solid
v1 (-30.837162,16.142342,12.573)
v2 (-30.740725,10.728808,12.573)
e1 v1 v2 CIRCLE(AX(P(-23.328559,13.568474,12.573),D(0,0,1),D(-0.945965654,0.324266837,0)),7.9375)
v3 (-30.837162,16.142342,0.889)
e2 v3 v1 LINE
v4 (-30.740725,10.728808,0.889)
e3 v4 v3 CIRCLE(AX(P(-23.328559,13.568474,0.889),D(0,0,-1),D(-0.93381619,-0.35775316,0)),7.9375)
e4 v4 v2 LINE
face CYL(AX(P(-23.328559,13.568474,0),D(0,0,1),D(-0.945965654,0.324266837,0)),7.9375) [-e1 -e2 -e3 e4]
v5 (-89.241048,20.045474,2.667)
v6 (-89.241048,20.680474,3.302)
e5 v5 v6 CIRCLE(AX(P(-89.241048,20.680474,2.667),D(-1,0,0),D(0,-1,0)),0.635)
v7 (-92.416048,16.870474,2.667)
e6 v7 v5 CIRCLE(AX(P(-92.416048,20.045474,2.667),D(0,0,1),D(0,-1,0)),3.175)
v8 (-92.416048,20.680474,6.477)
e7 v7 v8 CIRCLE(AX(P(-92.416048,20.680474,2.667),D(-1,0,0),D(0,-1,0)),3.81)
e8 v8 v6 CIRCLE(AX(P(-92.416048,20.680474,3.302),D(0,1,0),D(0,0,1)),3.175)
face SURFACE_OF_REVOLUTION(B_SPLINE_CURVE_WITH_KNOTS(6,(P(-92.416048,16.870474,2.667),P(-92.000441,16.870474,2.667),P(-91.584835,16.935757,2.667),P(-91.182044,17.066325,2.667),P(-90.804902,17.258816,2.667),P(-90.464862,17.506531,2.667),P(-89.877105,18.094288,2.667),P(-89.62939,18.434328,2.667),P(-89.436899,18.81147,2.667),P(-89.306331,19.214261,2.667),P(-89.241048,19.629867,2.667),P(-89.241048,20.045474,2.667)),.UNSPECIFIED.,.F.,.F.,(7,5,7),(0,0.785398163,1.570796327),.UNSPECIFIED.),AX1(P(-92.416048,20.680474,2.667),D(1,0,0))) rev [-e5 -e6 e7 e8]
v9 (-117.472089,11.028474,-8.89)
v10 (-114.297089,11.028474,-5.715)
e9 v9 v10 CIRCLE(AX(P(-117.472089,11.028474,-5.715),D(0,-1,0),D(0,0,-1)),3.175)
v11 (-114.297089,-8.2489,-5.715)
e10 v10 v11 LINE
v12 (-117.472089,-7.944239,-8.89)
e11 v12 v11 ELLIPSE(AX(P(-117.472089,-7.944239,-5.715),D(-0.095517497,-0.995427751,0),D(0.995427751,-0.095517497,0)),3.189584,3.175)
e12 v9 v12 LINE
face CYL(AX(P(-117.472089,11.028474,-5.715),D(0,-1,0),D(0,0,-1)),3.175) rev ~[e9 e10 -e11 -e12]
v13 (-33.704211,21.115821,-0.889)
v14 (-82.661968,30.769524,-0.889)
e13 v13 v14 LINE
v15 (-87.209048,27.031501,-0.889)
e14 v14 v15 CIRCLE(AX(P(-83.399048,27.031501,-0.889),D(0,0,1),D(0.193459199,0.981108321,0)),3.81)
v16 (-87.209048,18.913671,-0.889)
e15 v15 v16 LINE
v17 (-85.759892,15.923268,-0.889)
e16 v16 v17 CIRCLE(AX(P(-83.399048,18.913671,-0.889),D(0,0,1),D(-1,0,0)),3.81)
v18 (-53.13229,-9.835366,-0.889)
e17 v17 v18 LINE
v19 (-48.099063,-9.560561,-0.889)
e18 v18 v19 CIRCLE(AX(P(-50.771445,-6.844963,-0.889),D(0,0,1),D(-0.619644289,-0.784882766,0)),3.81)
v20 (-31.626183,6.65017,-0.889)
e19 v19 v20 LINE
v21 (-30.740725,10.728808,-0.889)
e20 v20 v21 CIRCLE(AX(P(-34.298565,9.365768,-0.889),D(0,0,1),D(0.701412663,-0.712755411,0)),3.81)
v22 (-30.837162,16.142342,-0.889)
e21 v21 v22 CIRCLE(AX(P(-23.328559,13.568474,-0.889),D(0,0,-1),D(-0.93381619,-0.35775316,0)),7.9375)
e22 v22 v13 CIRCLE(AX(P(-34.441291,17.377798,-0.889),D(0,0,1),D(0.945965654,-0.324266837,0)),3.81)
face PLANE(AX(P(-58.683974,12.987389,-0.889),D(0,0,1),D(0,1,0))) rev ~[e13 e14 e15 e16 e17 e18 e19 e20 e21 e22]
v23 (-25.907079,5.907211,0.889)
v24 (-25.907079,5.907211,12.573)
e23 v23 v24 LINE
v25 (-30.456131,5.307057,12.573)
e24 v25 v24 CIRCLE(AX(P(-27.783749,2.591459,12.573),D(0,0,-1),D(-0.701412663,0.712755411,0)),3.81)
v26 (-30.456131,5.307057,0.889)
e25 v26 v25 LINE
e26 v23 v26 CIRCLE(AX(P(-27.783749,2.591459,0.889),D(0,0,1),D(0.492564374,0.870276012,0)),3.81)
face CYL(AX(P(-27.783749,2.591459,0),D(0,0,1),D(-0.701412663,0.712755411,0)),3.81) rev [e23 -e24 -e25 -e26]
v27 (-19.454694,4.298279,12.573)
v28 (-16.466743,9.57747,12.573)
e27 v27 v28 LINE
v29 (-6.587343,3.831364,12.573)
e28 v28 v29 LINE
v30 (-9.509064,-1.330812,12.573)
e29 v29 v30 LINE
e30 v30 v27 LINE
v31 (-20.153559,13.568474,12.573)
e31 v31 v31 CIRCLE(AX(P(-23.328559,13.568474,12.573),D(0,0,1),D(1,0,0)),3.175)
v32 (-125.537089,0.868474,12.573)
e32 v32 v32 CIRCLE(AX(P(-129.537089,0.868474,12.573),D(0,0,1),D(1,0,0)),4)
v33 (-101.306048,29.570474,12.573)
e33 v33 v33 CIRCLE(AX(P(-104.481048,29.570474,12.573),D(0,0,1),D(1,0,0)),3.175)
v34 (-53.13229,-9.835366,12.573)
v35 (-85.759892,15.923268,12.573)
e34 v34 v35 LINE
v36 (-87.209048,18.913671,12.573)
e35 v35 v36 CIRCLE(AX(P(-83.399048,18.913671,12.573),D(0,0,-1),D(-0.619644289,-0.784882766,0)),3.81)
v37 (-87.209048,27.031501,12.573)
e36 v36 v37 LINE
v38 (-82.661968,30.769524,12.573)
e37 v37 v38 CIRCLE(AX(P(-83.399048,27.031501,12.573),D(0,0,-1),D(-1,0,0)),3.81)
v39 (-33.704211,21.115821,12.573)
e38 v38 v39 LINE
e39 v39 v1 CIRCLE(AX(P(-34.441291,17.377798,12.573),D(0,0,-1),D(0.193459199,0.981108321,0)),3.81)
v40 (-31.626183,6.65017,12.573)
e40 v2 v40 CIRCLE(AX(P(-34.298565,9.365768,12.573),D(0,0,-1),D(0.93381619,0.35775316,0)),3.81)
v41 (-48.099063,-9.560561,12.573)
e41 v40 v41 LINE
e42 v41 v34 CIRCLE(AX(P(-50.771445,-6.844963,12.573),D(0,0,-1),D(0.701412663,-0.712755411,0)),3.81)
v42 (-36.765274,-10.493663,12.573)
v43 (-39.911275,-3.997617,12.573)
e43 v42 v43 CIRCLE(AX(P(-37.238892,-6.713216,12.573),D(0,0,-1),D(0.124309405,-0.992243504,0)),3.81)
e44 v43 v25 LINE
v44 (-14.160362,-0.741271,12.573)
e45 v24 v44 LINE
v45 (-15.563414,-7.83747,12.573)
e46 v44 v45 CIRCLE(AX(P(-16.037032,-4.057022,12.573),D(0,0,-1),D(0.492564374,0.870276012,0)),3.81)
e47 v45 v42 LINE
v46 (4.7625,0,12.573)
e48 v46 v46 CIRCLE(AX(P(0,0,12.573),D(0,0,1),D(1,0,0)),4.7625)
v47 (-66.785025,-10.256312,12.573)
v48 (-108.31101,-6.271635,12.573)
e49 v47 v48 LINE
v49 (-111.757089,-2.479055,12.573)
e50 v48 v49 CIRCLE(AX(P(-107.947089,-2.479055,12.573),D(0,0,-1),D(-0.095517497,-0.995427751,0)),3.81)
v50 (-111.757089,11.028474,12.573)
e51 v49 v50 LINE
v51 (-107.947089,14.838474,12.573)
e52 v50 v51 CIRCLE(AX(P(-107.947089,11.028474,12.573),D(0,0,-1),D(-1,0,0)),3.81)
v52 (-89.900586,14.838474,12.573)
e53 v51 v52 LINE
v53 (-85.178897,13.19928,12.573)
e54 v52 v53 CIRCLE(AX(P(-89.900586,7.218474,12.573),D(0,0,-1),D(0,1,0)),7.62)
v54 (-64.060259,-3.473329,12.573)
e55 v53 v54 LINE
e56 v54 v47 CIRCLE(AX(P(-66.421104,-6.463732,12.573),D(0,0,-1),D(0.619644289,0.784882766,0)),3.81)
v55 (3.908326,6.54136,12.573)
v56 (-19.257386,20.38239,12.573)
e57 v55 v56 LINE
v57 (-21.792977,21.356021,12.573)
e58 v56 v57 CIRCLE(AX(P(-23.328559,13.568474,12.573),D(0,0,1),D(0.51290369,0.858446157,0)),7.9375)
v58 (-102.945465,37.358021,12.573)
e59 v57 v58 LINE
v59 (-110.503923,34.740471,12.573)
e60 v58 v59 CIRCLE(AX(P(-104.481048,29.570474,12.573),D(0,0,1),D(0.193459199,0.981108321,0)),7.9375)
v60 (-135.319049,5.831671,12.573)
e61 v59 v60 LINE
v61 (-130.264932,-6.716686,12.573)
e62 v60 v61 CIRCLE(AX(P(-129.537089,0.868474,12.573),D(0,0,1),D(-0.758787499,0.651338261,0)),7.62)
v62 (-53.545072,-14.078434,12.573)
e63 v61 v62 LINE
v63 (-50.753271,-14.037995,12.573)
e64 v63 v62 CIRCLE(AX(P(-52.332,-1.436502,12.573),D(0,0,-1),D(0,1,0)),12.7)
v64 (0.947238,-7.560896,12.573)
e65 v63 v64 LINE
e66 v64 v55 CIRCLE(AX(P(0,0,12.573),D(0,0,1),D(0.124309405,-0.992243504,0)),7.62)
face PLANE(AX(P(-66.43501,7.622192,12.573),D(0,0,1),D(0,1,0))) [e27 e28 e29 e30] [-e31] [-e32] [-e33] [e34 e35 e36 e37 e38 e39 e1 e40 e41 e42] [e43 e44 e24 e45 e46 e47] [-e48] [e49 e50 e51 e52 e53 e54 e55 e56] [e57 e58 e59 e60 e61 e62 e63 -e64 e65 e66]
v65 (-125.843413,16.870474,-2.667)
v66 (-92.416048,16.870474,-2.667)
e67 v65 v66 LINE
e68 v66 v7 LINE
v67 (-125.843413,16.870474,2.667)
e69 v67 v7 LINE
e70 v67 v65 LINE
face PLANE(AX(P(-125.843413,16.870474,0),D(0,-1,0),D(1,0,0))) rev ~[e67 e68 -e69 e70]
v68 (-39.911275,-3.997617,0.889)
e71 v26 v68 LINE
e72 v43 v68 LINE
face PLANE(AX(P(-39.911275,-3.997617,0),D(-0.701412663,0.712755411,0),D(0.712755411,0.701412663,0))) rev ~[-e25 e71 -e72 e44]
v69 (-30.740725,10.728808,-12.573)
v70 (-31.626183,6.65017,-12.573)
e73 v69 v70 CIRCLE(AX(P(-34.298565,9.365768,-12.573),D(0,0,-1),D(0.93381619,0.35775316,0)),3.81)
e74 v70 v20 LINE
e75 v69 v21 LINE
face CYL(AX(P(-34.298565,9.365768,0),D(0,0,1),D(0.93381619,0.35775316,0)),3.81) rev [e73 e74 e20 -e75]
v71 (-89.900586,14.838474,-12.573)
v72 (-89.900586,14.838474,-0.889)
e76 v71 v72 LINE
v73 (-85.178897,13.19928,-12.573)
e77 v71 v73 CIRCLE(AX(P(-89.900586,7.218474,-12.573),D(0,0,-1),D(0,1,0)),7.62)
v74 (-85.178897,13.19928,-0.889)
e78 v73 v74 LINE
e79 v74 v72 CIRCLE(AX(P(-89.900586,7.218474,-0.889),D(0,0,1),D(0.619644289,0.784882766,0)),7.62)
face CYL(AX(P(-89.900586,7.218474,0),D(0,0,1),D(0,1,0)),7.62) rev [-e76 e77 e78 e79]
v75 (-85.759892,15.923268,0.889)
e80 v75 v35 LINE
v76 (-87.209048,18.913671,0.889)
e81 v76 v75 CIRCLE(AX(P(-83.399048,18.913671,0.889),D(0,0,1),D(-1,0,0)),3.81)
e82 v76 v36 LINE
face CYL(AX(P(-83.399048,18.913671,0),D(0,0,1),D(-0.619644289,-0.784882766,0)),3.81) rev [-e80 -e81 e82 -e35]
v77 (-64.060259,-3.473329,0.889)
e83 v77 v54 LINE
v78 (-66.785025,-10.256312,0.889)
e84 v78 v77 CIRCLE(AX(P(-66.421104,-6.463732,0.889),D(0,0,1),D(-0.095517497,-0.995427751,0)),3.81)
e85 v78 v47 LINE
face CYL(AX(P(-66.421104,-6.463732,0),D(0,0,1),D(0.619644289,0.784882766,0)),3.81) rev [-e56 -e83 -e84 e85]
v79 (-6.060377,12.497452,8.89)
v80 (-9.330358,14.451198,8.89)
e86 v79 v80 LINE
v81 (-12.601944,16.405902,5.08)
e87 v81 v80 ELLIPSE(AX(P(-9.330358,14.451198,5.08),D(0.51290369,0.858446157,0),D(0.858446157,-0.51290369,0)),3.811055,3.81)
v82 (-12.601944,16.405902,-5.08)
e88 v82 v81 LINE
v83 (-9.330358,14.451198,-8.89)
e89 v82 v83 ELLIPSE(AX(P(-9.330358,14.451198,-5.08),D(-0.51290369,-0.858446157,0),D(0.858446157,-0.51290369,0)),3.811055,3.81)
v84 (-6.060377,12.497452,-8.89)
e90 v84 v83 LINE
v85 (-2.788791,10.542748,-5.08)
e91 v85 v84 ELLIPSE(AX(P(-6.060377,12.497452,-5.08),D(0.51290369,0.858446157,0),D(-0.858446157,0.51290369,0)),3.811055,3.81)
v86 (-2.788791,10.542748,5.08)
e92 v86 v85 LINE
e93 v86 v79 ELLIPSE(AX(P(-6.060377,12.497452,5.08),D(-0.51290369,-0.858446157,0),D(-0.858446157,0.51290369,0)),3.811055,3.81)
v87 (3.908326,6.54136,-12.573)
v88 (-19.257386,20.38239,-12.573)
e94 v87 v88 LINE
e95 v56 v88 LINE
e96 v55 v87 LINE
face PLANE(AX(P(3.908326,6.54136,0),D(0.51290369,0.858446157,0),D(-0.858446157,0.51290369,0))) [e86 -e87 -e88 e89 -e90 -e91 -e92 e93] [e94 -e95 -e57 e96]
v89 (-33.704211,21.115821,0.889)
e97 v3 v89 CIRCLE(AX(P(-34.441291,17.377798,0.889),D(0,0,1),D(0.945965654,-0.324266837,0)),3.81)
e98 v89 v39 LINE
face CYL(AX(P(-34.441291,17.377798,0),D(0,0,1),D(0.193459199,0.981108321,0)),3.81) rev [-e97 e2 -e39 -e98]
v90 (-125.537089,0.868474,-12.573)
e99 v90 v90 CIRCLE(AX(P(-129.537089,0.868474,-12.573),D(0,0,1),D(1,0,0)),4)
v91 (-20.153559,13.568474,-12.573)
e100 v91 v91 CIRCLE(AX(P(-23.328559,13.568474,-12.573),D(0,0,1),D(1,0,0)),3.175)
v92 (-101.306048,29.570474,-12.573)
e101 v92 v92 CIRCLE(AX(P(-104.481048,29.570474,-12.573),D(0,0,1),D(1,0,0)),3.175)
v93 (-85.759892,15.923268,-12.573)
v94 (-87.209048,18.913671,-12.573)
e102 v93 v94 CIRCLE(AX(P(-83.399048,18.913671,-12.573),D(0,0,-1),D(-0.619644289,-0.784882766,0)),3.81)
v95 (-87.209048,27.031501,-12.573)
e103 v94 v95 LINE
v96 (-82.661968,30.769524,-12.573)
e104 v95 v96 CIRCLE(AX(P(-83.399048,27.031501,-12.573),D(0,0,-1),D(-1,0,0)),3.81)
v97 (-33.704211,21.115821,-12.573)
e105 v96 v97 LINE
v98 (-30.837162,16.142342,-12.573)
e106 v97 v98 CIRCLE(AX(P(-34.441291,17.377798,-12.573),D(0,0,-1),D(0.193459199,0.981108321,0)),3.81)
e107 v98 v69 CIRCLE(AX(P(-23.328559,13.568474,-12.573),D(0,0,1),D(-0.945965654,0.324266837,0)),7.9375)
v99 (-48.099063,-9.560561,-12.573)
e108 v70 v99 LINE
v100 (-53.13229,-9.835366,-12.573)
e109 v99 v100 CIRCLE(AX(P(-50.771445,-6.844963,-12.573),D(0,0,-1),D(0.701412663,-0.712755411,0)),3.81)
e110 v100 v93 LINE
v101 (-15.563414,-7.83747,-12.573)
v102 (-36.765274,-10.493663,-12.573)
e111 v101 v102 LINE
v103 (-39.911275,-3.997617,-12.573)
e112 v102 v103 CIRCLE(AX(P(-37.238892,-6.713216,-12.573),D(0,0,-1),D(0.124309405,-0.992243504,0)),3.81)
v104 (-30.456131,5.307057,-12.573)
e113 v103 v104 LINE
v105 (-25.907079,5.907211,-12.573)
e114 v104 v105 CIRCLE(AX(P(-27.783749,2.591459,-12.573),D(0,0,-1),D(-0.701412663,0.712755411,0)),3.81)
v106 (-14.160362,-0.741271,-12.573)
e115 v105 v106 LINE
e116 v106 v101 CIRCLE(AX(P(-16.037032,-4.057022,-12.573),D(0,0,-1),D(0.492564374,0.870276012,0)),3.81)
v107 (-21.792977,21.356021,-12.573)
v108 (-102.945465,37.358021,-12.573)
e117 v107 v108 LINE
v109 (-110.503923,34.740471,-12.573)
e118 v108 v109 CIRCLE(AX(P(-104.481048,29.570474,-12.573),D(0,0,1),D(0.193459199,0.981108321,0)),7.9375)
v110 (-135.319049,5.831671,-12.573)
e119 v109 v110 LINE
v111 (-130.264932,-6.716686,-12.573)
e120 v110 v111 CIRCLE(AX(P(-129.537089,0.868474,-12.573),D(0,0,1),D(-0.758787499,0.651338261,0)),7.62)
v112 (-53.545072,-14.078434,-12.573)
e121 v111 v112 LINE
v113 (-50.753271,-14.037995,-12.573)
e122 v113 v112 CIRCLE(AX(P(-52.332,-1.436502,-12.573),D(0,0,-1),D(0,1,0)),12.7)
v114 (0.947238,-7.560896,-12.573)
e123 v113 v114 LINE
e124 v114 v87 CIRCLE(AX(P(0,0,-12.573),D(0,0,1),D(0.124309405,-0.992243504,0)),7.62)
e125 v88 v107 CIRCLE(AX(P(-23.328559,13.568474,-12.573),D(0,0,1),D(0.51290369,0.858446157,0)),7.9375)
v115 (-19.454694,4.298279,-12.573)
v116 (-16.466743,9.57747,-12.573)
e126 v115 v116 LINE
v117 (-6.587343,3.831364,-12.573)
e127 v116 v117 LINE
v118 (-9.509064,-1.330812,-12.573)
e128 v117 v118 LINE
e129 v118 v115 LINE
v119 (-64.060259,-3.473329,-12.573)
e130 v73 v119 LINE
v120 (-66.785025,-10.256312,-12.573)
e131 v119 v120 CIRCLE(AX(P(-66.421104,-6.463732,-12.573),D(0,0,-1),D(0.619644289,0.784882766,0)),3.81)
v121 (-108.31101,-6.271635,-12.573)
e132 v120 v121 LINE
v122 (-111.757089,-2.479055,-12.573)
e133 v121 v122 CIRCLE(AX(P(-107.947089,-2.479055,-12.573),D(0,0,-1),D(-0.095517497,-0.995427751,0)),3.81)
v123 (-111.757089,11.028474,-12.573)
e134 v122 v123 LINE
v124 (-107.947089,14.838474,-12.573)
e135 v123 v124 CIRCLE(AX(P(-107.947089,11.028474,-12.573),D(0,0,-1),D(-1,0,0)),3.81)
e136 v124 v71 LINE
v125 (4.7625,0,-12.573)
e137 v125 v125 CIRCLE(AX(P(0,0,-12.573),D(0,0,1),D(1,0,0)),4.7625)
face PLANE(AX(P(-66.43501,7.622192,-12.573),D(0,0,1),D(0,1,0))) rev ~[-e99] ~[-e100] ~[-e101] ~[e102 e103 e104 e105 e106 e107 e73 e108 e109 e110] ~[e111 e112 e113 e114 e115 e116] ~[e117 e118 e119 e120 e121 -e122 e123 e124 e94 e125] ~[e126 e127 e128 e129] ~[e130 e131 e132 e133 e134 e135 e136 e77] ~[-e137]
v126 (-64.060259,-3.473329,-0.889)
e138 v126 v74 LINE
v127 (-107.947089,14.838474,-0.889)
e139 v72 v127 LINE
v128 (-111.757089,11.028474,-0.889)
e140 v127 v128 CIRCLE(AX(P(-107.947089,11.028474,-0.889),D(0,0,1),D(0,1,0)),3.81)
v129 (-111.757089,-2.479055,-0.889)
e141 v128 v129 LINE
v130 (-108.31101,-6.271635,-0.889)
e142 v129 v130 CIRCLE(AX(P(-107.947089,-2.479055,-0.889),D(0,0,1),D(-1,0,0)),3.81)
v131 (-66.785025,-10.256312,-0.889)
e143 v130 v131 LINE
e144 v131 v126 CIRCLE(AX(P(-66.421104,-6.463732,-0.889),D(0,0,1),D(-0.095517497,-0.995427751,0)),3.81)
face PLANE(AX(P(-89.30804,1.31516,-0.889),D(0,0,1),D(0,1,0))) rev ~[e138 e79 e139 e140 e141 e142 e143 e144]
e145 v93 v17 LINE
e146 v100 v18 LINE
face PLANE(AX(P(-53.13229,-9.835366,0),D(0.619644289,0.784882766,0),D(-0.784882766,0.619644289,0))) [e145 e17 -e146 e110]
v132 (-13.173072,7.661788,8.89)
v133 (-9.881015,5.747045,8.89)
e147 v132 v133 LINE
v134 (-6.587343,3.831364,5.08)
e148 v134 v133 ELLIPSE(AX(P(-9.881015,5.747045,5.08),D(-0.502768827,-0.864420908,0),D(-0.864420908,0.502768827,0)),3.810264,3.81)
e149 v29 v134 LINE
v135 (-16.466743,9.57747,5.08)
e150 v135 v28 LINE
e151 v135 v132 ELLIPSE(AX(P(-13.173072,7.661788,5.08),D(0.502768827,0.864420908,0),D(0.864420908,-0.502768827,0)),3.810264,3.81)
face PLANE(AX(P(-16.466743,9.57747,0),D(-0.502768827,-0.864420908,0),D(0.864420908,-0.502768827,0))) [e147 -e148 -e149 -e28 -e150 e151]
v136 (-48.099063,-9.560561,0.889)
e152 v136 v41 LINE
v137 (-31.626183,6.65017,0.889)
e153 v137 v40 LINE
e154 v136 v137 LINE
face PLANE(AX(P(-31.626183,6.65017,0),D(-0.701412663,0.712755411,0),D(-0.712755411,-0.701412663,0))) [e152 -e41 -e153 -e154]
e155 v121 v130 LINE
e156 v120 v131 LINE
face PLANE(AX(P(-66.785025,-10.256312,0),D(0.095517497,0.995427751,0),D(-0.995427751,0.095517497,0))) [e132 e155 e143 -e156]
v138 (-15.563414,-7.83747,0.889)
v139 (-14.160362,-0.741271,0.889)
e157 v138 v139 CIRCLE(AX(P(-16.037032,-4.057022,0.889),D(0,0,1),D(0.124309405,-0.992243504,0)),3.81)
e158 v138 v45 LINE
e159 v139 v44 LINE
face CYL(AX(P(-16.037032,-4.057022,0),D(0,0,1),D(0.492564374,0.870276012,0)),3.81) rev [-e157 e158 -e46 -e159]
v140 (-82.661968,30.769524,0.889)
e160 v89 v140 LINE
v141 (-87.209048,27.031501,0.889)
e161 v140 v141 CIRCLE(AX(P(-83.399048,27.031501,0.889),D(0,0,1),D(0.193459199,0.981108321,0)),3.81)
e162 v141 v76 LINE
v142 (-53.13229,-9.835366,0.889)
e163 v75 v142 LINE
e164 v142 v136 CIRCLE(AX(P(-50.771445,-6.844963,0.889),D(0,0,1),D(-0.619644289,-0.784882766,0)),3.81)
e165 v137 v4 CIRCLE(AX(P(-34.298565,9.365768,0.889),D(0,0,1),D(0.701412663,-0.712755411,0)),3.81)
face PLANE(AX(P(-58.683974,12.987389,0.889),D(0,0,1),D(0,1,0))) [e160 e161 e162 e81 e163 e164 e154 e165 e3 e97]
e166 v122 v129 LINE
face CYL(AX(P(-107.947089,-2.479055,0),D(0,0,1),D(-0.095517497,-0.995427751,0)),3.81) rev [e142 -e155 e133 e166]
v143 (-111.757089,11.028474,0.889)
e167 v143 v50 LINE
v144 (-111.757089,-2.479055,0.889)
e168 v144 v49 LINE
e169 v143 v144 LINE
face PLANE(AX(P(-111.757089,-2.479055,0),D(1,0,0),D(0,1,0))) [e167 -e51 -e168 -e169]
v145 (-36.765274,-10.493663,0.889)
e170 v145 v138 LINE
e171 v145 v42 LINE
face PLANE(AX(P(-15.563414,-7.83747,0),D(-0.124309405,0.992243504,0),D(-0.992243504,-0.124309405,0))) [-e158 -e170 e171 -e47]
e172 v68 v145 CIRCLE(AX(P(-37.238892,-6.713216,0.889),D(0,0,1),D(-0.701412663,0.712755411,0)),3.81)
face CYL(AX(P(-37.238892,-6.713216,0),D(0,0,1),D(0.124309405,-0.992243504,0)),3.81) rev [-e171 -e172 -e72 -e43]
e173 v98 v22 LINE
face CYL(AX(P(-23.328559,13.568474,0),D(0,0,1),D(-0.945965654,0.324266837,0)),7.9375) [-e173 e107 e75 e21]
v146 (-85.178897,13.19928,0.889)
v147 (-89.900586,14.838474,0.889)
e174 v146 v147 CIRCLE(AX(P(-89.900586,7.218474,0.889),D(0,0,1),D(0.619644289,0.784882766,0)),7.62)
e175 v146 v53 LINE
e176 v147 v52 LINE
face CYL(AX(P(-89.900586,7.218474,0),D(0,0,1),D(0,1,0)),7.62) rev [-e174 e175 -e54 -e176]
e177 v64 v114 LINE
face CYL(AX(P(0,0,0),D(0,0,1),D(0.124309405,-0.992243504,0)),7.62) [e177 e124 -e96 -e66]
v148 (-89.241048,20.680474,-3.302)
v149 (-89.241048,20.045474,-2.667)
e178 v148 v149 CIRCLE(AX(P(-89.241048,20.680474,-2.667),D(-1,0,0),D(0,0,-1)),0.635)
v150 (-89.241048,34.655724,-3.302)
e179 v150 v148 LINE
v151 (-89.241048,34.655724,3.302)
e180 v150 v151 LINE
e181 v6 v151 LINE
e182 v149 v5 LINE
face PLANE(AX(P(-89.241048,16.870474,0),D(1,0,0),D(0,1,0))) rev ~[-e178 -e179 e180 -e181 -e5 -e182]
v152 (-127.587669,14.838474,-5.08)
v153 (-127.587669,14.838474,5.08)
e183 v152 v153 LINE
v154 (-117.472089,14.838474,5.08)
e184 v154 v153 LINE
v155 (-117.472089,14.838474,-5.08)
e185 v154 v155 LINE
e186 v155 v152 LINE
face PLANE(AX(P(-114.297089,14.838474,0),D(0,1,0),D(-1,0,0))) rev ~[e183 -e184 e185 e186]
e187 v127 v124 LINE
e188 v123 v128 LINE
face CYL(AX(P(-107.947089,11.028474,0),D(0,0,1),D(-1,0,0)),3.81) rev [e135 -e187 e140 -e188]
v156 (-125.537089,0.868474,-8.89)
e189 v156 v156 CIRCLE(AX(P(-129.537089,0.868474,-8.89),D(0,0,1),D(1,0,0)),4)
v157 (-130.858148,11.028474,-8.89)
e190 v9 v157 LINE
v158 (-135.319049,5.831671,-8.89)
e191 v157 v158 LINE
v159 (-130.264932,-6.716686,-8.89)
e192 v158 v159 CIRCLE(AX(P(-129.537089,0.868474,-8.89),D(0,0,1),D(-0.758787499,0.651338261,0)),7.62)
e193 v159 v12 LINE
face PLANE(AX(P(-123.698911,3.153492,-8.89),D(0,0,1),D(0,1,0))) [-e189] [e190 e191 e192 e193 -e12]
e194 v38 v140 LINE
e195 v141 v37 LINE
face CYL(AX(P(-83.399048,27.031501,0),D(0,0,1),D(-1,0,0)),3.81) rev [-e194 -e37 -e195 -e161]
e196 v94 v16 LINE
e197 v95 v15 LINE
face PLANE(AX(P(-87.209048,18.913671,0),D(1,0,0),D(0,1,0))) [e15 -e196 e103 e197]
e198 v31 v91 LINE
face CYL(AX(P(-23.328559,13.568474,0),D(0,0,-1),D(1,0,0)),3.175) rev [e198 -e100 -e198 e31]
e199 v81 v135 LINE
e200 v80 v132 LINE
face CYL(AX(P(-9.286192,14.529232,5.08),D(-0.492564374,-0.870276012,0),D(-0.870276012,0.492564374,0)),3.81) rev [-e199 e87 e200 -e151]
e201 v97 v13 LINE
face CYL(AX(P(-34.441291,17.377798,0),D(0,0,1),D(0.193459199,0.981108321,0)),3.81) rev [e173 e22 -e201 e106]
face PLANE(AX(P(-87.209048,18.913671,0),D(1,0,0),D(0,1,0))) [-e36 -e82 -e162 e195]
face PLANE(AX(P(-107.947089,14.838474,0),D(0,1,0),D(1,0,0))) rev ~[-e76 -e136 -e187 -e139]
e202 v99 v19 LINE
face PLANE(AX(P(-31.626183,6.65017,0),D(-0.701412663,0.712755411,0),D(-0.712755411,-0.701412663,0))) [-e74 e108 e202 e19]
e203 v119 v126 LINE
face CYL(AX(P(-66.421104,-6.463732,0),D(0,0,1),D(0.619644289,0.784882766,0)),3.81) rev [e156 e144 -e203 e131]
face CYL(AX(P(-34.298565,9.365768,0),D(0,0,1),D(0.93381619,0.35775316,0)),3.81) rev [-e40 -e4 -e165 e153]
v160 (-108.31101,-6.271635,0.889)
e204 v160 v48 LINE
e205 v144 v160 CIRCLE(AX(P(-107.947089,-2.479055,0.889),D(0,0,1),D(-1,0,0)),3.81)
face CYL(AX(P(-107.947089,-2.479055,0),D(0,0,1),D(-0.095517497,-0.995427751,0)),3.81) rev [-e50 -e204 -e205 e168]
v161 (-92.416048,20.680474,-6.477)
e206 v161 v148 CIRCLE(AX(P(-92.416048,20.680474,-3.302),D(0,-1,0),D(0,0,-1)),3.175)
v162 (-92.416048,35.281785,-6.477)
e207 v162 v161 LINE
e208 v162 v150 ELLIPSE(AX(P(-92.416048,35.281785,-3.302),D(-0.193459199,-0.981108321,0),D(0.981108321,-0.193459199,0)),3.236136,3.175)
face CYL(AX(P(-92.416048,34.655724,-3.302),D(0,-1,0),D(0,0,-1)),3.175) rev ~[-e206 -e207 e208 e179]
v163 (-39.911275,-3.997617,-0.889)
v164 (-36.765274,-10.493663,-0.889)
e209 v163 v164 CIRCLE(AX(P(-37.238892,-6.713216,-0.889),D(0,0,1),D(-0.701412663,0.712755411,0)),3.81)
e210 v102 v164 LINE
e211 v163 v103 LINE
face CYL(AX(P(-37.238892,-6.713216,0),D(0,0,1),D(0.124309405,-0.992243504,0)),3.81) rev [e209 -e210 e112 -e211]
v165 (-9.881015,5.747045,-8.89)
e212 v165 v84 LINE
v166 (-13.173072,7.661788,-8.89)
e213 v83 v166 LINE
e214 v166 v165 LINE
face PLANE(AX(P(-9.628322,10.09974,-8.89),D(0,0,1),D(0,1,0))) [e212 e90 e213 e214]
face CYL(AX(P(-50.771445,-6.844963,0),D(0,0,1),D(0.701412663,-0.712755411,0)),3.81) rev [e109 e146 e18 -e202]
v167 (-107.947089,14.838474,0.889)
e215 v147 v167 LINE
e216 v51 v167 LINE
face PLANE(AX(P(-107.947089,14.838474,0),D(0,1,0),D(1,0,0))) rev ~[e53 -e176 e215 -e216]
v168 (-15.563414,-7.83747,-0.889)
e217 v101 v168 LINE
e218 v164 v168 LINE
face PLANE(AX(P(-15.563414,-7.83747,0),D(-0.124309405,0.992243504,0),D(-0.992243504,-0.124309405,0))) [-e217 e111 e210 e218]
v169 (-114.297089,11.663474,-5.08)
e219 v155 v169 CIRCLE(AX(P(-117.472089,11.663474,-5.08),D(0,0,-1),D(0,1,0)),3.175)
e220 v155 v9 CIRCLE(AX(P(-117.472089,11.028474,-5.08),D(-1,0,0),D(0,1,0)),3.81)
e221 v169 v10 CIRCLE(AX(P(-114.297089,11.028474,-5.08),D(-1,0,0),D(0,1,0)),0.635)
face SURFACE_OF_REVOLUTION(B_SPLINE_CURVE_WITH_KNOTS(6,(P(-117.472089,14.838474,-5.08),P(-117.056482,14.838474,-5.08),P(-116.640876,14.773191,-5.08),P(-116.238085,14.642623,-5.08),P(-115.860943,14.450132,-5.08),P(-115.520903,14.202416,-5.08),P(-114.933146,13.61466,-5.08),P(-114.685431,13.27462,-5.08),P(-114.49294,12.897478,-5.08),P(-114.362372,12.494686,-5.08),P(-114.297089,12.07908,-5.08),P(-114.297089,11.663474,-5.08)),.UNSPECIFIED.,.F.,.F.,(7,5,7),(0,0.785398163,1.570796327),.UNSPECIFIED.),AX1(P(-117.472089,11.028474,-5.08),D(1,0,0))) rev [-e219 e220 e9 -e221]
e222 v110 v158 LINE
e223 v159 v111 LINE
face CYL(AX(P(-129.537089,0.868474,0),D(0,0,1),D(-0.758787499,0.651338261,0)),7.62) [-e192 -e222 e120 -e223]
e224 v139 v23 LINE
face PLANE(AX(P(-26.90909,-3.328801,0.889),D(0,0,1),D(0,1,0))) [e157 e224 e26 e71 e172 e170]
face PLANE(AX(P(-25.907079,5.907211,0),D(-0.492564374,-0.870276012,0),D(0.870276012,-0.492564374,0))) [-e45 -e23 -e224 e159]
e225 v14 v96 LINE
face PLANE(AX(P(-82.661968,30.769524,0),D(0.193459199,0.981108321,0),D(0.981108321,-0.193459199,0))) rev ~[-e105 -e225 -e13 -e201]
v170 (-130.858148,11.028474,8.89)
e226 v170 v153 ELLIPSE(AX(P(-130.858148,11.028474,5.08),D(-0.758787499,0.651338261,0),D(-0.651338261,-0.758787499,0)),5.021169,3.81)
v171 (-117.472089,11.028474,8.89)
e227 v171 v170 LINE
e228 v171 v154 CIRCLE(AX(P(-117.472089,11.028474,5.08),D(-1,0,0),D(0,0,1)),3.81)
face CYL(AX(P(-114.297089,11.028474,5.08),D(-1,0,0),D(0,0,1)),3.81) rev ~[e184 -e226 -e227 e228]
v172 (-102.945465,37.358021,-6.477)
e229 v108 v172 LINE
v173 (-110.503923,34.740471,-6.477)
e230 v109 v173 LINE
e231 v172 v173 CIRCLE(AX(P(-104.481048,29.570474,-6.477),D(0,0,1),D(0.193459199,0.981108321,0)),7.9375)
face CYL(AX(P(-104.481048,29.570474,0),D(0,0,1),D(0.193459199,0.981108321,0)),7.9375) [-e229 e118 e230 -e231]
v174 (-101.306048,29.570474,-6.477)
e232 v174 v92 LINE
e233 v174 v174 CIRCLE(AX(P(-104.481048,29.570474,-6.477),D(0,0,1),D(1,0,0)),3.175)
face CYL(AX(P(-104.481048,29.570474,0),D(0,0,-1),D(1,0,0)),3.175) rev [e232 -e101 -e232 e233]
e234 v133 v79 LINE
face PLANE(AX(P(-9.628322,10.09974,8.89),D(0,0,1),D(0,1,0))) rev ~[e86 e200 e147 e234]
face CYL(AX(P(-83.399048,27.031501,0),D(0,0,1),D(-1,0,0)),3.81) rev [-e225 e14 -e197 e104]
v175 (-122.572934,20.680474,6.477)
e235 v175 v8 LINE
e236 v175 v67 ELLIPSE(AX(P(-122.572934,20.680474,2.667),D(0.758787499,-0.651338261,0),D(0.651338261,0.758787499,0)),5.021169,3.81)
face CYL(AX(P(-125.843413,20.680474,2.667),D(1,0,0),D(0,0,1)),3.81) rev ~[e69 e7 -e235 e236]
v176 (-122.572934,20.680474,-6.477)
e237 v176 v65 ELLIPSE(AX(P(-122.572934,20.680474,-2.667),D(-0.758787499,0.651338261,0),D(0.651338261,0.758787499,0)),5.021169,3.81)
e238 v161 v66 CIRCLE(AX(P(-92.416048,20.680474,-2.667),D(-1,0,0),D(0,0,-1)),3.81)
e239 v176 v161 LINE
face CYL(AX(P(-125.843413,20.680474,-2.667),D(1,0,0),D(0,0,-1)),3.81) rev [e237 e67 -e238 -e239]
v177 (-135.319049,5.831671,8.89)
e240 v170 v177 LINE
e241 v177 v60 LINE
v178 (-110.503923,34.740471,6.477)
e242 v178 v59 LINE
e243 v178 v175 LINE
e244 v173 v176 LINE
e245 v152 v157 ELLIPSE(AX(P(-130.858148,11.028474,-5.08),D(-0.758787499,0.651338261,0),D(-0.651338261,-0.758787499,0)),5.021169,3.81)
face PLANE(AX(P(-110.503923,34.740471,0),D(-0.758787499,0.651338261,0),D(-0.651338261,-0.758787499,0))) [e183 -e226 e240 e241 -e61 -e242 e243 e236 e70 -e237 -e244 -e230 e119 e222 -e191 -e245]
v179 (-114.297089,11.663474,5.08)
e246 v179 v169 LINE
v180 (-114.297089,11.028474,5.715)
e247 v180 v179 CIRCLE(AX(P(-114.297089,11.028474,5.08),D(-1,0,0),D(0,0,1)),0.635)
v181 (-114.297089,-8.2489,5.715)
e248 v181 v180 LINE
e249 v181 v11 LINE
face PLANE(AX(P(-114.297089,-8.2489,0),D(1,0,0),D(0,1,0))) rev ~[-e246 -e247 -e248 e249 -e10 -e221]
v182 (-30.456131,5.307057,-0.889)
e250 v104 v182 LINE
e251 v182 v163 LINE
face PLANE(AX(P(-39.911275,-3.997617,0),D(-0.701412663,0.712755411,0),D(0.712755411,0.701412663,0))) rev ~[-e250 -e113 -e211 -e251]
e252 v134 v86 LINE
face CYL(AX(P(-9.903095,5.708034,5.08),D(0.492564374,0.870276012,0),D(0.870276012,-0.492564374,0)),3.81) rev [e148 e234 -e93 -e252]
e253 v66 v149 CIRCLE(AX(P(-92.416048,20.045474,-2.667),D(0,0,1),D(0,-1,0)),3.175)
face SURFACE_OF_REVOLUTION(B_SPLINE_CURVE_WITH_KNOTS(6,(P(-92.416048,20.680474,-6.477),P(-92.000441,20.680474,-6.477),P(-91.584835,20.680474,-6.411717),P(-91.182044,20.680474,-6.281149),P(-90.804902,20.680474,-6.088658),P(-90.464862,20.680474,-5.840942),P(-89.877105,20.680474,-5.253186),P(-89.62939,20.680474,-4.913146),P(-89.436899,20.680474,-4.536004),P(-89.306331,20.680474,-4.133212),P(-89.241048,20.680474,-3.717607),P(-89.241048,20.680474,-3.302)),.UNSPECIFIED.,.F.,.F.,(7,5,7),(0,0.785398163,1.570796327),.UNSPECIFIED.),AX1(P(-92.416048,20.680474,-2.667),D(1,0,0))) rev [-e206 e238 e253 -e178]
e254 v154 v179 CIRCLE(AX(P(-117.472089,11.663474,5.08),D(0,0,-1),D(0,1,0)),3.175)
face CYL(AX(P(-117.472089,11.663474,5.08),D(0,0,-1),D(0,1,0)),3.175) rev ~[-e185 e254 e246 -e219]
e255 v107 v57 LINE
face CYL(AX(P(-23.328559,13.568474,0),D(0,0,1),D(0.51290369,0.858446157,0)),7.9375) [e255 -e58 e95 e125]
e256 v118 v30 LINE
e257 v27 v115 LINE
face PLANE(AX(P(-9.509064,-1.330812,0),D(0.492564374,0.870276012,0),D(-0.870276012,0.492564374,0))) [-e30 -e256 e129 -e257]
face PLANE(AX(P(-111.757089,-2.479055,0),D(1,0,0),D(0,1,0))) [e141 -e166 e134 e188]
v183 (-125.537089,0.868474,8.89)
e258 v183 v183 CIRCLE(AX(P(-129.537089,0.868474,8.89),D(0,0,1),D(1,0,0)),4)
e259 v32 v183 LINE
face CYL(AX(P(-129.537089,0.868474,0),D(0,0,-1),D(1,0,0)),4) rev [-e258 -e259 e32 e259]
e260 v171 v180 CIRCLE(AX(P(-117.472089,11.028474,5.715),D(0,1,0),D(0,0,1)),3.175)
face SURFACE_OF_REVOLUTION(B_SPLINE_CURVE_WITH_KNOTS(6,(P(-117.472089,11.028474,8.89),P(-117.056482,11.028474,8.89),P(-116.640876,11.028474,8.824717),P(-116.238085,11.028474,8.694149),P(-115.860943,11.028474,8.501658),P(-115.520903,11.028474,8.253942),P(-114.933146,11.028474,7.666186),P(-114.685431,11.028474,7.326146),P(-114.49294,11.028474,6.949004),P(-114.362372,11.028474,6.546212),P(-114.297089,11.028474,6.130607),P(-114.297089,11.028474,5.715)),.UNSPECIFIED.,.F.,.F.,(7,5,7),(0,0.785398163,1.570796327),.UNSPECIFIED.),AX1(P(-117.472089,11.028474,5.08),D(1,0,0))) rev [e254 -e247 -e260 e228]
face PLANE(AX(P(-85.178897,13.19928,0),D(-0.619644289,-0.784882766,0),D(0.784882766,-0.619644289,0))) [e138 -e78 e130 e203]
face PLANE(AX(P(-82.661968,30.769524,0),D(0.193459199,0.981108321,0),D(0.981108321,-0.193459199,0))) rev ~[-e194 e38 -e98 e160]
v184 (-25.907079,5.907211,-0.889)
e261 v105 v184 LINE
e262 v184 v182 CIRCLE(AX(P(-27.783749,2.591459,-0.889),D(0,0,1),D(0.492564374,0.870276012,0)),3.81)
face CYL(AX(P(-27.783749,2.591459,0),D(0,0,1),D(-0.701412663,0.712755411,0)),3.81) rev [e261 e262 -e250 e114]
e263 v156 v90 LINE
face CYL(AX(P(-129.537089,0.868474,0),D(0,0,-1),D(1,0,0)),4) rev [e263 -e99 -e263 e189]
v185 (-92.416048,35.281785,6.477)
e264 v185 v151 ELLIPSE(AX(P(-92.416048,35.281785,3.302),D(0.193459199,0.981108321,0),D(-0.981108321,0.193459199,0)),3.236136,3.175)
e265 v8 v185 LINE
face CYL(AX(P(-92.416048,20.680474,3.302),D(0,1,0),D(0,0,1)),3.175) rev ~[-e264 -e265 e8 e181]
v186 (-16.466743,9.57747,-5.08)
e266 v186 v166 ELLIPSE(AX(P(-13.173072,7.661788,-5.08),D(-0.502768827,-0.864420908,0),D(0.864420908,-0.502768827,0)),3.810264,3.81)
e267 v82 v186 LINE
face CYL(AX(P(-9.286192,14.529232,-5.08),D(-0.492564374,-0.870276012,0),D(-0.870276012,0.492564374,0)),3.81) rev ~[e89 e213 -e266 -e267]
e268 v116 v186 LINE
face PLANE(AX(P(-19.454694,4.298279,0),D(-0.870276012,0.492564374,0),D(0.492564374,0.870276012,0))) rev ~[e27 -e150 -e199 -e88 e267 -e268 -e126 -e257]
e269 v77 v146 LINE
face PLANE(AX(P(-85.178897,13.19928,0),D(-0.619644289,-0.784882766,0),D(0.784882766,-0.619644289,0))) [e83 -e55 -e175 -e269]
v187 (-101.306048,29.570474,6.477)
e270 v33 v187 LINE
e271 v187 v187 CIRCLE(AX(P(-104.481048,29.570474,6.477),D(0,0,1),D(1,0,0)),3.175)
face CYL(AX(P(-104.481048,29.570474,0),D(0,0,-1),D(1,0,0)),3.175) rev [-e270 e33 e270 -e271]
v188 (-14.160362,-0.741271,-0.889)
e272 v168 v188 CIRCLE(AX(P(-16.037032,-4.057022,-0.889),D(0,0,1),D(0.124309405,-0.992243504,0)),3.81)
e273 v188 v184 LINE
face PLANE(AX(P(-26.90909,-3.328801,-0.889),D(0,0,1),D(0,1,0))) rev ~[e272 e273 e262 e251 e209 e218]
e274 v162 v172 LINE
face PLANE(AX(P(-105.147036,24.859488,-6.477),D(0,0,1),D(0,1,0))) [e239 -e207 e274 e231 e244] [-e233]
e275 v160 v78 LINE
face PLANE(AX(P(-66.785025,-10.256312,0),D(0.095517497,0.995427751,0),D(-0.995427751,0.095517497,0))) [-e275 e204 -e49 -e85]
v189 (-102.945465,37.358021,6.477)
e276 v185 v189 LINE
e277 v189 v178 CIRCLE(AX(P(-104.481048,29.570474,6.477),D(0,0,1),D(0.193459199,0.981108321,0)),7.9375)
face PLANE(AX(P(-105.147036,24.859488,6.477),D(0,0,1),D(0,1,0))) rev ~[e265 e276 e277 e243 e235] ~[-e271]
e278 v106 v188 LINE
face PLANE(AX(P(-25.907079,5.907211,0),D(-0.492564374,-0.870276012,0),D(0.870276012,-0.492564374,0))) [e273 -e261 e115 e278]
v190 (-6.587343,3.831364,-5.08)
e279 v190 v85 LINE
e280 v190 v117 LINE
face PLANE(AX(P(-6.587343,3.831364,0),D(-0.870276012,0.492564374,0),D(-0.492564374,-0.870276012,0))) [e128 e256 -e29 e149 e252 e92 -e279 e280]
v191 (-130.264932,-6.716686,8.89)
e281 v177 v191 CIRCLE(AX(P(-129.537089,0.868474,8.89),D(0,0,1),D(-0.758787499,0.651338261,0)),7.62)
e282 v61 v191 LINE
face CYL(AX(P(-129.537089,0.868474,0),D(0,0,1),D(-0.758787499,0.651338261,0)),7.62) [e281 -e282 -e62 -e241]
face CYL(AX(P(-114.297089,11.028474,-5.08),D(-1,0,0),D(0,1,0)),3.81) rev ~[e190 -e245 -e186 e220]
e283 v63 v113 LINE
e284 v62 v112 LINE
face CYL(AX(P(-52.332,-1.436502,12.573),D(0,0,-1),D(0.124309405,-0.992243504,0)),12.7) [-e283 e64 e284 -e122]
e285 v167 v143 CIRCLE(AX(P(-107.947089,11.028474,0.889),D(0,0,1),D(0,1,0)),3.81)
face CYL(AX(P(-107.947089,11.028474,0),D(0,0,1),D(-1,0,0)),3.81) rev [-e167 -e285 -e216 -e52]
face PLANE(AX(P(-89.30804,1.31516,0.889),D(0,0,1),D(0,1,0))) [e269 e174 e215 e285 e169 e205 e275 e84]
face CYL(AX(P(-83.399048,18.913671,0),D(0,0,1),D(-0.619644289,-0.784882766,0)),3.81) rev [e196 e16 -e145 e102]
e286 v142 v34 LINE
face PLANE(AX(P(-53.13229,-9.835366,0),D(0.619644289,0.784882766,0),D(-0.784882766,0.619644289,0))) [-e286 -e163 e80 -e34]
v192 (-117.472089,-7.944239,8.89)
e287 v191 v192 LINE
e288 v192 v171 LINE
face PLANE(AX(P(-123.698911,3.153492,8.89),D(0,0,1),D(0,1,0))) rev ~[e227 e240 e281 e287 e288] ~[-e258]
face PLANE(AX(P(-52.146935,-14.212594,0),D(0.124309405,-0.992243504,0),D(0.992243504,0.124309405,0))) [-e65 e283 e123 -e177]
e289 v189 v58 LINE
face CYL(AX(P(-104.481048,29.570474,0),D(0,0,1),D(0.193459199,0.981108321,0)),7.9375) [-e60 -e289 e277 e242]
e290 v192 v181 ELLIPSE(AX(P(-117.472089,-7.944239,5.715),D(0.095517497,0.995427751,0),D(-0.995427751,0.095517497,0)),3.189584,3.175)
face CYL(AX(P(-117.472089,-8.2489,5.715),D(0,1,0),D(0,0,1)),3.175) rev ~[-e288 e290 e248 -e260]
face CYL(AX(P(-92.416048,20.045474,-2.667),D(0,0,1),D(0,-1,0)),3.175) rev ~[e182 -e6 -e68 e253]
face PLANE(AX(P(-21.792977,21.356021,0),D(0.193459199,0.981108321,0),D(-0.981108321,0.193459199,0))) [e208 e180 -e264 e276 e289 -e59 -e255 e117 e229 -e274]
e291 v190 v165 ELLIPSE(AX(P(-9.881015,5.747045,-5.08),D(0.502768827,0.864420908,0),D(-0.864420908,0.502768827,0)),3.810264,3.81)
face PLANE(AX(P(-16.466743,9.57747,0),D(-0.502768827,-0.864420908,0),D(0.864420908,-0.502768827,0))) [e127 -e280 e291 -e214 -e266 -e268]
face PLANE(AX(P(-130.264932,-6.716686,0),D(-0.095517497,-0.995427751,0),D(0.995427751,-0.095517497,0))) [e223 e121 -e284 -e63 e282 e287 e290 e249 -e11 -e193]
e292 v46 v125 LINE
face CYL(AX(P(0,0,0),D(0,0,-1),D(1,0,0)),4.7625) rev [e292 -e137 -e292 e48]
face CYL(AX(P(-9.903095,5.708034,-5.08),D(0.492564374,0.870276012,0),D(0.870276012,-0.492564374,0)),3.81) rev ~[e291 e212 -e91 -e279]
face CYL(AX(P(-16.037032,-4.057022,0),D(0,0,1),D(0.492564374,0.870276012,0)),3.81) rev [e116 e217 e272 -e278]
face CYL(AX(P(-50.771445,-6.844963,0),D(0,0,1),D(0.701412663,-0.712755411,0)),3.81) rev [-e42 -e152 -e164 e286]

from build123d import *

# Parameters (mm, degrees)
SKETCH1_R           = 4.762499999999997
SKETCH1_R_2         = 3.17500000000001
SKETCH1_R_3         = 4.000000000000006
SKETCH1_R_4         = 3.174999999999997
BOSS_EXTRUDE1_DEPTH = 12.572999999999999
BOSS_EXTRUDE2_DEPTH = 0.889
SKETCH1_6_R         = 3.174999999999997
CUT_EXTRUDE1_DEPTH  = 6.477
SKETCH1_7_R         = 4.000000000000006
CUT_EXTRUDE2_DEPTH  = 8.889999999999999
CUT_EXTRUDE3_DEPTH  = 8.889999999999999
FILLET1_R           = 3.8099999999999996
FILLET2_R           = 3.175
FILLET3_R           = 12.7


with BuildPart() as part:
    # Sketch1 → Boss-Extrude1 (new, symmetric)
    with BuildSketch(Plane(origin=(0, 0, 0), x_dir=(0, 1, 0), z_dir=(0, 0, 1))):
        with BuildLine():
            ThreePointArc((20.382390084242772, 19.257386231100043), (20.978466310939545, 20.483226967362732), (21.356021010960387, 21.79297687753883))
            Line((21.356021010960387, 21.79297687753883), (37.358021010960385, 102.94546522066996))
            ThreePointArc((37.35802101096039, 102.94546522066996), (37.07094462485589, 107.07851604910101), (34.74047115882098, 110.5039233863327))
            Line((34.74047115882098, 110.5039233863327), (5.8316712608374885, 135.31904946315026))
            ThreePointArc((5.831671260837487, 135.31904946315026), (-1.9784012059195106, 136.6053065422467), (-6.71668575438994, 130.26493204642645))
            Line((-6.71668575438994, 130.26493204642645), (-14.21259444493871, 52.14693537573538))
            Line((-14.21259444493871, 52.14693537573538), (-7.56089550263359, -0.9472376672489283))
            ThreePointArc((-7.560895502633591, -0.9472376672489284), (-1.565846256947838, -7.457380605789306), (6.541359720008749, -3.9083261140093004))
            Line((6.541359720008749, -3.9083261140093004), (20.382390084242772, 19.257386231100043))
        make_face()
        Polygon((4.29827889322349, 19.45469368119458), (9.577469944104607, 16.46674342320252), (3.8313636145238874, 6.587343209590925), (-1.3308119334704958, 9.509064286128918), align=None, mode=Mode.SUBTRACT)
        with BuildLine():
            Line((-7.837469994075563, 15.563413639417114), (-10.493663341451699, 36.76527356188965))
            ThreePointArc((-10.493663341451697, 36.76527356188965), (-8.373880180823447, 40.66792915781828), (-3.9976174727208837, 39.91127464075849))
            Line((-3.9976174727208846, 39.91127464075849), (5.307057429865875, 30.45613112841883))
            ThreePointArc((5.307057429865875, 30.45613112841883), (6.368728770469758, 28.282081544681937), (5.907210919033615, 25.907078618197012))
            Line((5.907210919033615, 25.907078618197012), (-0.7412706361770095, 14.160362208064143))
            ThreePointArc((-0.7412706361770094, 14.160362208064143), (-4.796024243086445, 12.29938935959272), (-7.837469994075564, 15.563413639417115))
        make_face(mode=Mode.SUBTRACT)
        Circle(SKETCH1_R, mode=Mode.SUBTRACT)
        with BuildLine():
            Line((-9.835366262341573, 53.13228955360719), (15.923267523608242, 85.75989234914361))
            ThreePointArc((15.92326752360824, 85.75989234914361), (17.2521532494062, 86.82767112773601), (18.9136708602906, 87.20904760965752))
            Line((18.9136708602906, 87.20904760965752), (27.031501436121193, 87.20904760965755))
            ThreePointArc((27.031501436121193, 87.20904760965755), (29.974660714259272, 85.81853380790496), (30.769524140950022, 82.6619680629435))
            Line((30.769524140950015, 82.6619680629435), (21.11582108508837, 33.70421123824264))
            ThreePointArc((21.11582108508837, 33.70421123824264), (19.28061275870069, 31.140473092142116), (16.142341730197096, 30.837161643844155))
            ThreePointArc((16.142341730197096, 30.837161643844155), (13.427097985028178, 31.264800137027077), (10.728808005125181, 30.74072527511728))
            ThreePointArc((10.728808005125181, 30.74072527511728), (8.557460112178255, 30.57529521299933), (6.650170349739085, 31.62618271399653))
            Line((6.650170349739083, 31.62618271399653), (-9.560561043073251, 48.099062568876725))
            ThreePointArc((-9.56056104307325, 48.099062568876725), (-10.649296851393418, 50.56373496479325), (-9.835366262341573, 53.13228955360719))
        make_face(mode=Mode.SUBTRACT)
        with Locations((13.568473709233661, 23.328559266526405)):
            Circle(SKETCH1_R_2, mode=Mode.SUBTRACT)
        with BuildLine():
            ThreePointArc((-6.271634521139667, 108.31101038198426), (-5.0412373021941335, 110.76689735834775), (-2.4790547893278805, 111.75708871754208))
            Line((-2.4790547893278805, 111.75708871754208), (11.028473709233646, 111.75708871754206))
            ThreePointArc((11.028473709233646, 111.75708871754206), (13.722550545554382, 110.6411655538628), (14.838473709233643, 107.94708871754207))
            Line((14.838473709233645, 107.94708871754207), (14.838473709233652, 89.90058630028007))
            ThreePointArc((14.83847370923365, 89.90058630028007), (14.417020328206092, 87.40152116017657), (13.199280382598367, 85.17889682130792))
            Line((13.199280382598367, 85.17889682130792), (-3.473328559543596, 64.06025882792814))
            ThreePointArc((-3.473328559543596, 64.06025882792814), (-7.883928971008091, 62.885691247927234), (-10.256311628037745, 66.7850252318564))
            Line((-10.256311628037743, 66.7850252318564), (-6.271634521139673, 108.31101038198426))
        make_face(mode=Mode.SUBTRACT)
        with Locations((0.868473709233646, 129.5370887175421)):
            Circle(SKETCH1_R_3, mode=Mode.SUBTRACT)
        with Locations((29.57047370923365, 104.48104760965752)):
            Circle(SKETCH1_R_4, mode=Mode.SUBTRACT)
    extrude(amount=BOSS_EXTRUDE1_DEPTH, both=True)

    # Sketch1<5> → Boss-Extrude2 (add, symmetric)
    with BuildSketch(Plane(origin=(0, 0, 0), x_dir=(0, 1, 0), z_dir=(0, 0, 1))):
        with BuildLine():
            Line((11.028473709233646, 111.75708871754206), (-2.4790547893278805, 111.75708871754208))
            ThreePointArc((-2.4790547893278805, 111.75708871754208), (-5.0412373021941335, 110.76689735834775), (-6.271634521139667, 108.31101038198426))
            Line((-6.271634521139673, 108.31101038198426), (-10.256311628037743, 66.7850252318564))
            ThreePointArc((-10.256311628037745, 66.7850252318564), (-7.883928971008091, 62.885691247927234), (-3.473328559543596, 64.06025882792814))
            Line((-3.473328559543596, 64.06025882792814), (13.199280382598367, 85.17889682130792))
            ThreePointArc((13.199280382598367, 85.17889682130792), (14.417020328206092, 87.40152116017657), (14.83847370923365, 89.90058630028007))
            Line((14.838473709233652, 89.90058630028007), (14.838473709233645, 107.94708871754207))
            ThreePointArc((14.838473709233643, 107.94708871754207), (13.722550545554382, 110.6411655538628), (11.028473709233646, 111.75708871754206))
        make_face()
        with BuildLine():
            ThreePointArc((18.9136708602906, 87.20904760965752), (17.2521532494062, 86.82767112773601), (15.92326752360824, 85.75989234914361))
            Line((15.923267523608242, 85.75989234914361), (-9.835366262341573, 53.13228955360719))
            ThreePointArc((-9.835366262341573, 53.13228955360719), (-10.649296851393418, 50.56373496479325), (-9.56056104307325, 48.099062568876725))
            Line((-9.560561043073251, 48.099062568876725), (6.650170349739083, 31.62618271399653))
            ThreePointArc((6.650170349739085, 31.62618271399653), (8.557460112178255, 30.57529521299933), (10.728808005125181, 30.74072527511728))
            ThreePointArc((10.728808005125181, 30.74072527511728), (13.427097985028178, 31.264800137027077), (16.142341730197096, 30.837161643844155))
            ThreePointArc((16.142341730197096, 30.837161643844155), (19.28061275870069, 31.140473092142116), (21.11582108508837, 33.70421123824264))
            Line((21.11582108508837, 33.70421123824264), (30.769524140950015, 82.6619680629435))
            ThreePointArc((30.769524140950022, 82.6619680629435), (29.974660714259272, 85.81853380790496), (27.031501436121193, 87.20904760965755))
            Line((27.031501436121193, 87.20904760965755), (18.9136708602906, 87.20904760965752))
        make_face()
        with BuildLine():
            ThreePointArc((-3.9976174727208837, 39.91127464075849), (-8.373880180823447, 40.66792915781828), (-10.493663341451697, 36.76527356188965))
            Line((-10.493663341451699, 36.76527356188965), (-7.837469994075563, 15.563413639417114))
            ThreePointArc((-7.837469994075564, 15.563413639417115), (-4.796024243086445, 12.29938935959272), (-0.7412706361770094, 14.160362208064143))
            Line((-0.7412706361770095, 14.160362208064143), (5.907210919033615, 25.907078618197012))
            ThreePointArc((5.907210919033615, 25.907078618197012), (6.368728770469758, 28.282081544681937), (5.307057429865875, 30.45613112841883))
            Line((5.307057429865875, 30.45613112841883), (-3.9976174727208846, 39.91127464075849))
        make_face()
    extrude(amount=BOSS_EXTRUDE2_DEPTH, both=True)

    # Sketch1<6> → Cut-Extrude1 (cut, symmetric)
    with BuildSketch(Plane(origin=(0, 0, 0), x_dir=(0, 1, 0), z_dir=(0, 0, 1))):
        with BuildLine():
            Line((16.870473709233643, 89.24104760965754), (34.65572444447459, 89.24104760965754))
            Line((34.6557244444746, 89.24104760965753), (37.358021010960385, 102.94546522066996))
            ThreePointArc((37.35802101096039, 102.94546522066996), (37.07094462485589, 107.07851604910101), (34.74047115882098, 110.5039233863327))
            Line((34.74047115882098, 110.5039233863327), (16.870473709233643, 125.84341313577922))
            Line((16.870473709233647, 125.84341313577922), (16.870473709233643, 89.24104760965754))
        make_face()
        with Locations((29.57047370923365, 104.48104760965752)):
            Circle(SKETCH1_6_R, mode=Mode.SUBTRACT)
    extrude(amount=CUT_EXTRUDE1_DEPTH, both=True, mode=Mode.SUBTRACT)

    # Sketch1<7> → Cut-Extrude2 (cut, symmetric)
    with BuildSketch(Plane(origin=(0, 0, 0), x_dir=(0, 1, 0), z_dir=(0, 0, 1))):
        with BuildLine():
            Line((14.838473709233647, 114.29708871754207), (14.838473709233648, 127.58766873843433))
            Line((14.83847370923364, 127.58766873843433), (5.831671260837486, 135.31904946315026))
            ThreePointArc((5.831671260837487, 135.31904946315026), (-1.9784012059195106, 136.6053065422467), (-6.71668575438994, 130.26493204642645))
            Line((-6.71668575438994, 130.26493204642645), (-8.248899849470712, 114.29708871754207))
            Line((-8.24889984947071, 114.29708871754207), (14.838473709233647, 114.29708871754207))
        make_face()
        with Locations((0.868473709233646, 129.5370887175421)):
            Circle(SKETCH1_7_R, mode=Mode.SUBTRACT)
    extrude(amount=CUT_EXTRUDE2_DEPTH, both=True, mode=Mode.SUBTRACT)

    # Sketch1<9> → Cut-Extrude3 (cut, symmetric)
    with BuildSketch(Plane(origin=(0, 0, 0), x_dir=(0, 1, 0), z_dir=(0, 0, 1))):
        Polygon((10.542747734850291, 2.7887911737698072), (16.405901968121537, 12.601943867513532), (9.577469944104607, 16.46674342320252), (3.8313636145238874, 6.587343209590925), align=None)
    extrude(amount=CUT_EXTRUDE3_DEPTH, both=True, mode=Mode.SUBTRACT)

    # Fillet1
    fillet1_edges = [part.edges().sort_by_distance(p)[0] for p in [
        (-120.9423787279882, 14.838473709233647, 8.889999999999999),
        (-120.9423787279882, 14.838473709233647, -8.889999999999999),
        (-107.54223037271838, 16.870473709233643, 6.477),
        (-107.54223037271838, 16.870473709233643, -6.477),
        (-4.688067191680366, 7.1870556746870875, -8.889999999999999),
        (-14.534343645358025, 12.99168595611307, -8.889999999999999),
        (-14.534343645358025, 12.99168595611307, 8.889999999999999),
        (-4.688067191680366, 7.1870556746870875, 8.889999999999999),
    ]]
    fillet(fillet1_edges, radius=FILLET1_R)

    # Fillet2
    fillet2_edges = [part.edges().sort_by_distance(p)[0] for p in [
        (-89.24104760965754, 27.66809907685412, -6.477),
        (-89.24104760965754, 17.986396872912895, -5.3610768363207475),
        (-89.24104760965754, 27.66809907685412, 6.477),
        (-89.24104760965754, 17.986396872912895, 5.3610768363207475),
        (-89.24104760965754, 16.870473709233643, 0),
        (-114.29708871754207, 1.3897869298814687, -8.889999999999999),
        (-114.29708871754207, 13.722550545554395, -7.774076836320745),
        (-114.29708871754207, 1.3897869298814687, 8.889999999999999),
        (-114.29708871754207, 13.722550545554393, 7.774076836320746),
        (-114.29708871754207, 14.838473709233647, 0),
    ]]
    fillet(fillet2_edges, radius=FILLET2_R)

    # Fillet3
    fillet3_edges = [part.edges().sort_by_distance(p)[0] for p in [
        (-52.14693537573538, -14.21259444493871, 0),
    ]]
    fillet(fillet3_edges, radius=FILLET3_R)


solid = part.part
